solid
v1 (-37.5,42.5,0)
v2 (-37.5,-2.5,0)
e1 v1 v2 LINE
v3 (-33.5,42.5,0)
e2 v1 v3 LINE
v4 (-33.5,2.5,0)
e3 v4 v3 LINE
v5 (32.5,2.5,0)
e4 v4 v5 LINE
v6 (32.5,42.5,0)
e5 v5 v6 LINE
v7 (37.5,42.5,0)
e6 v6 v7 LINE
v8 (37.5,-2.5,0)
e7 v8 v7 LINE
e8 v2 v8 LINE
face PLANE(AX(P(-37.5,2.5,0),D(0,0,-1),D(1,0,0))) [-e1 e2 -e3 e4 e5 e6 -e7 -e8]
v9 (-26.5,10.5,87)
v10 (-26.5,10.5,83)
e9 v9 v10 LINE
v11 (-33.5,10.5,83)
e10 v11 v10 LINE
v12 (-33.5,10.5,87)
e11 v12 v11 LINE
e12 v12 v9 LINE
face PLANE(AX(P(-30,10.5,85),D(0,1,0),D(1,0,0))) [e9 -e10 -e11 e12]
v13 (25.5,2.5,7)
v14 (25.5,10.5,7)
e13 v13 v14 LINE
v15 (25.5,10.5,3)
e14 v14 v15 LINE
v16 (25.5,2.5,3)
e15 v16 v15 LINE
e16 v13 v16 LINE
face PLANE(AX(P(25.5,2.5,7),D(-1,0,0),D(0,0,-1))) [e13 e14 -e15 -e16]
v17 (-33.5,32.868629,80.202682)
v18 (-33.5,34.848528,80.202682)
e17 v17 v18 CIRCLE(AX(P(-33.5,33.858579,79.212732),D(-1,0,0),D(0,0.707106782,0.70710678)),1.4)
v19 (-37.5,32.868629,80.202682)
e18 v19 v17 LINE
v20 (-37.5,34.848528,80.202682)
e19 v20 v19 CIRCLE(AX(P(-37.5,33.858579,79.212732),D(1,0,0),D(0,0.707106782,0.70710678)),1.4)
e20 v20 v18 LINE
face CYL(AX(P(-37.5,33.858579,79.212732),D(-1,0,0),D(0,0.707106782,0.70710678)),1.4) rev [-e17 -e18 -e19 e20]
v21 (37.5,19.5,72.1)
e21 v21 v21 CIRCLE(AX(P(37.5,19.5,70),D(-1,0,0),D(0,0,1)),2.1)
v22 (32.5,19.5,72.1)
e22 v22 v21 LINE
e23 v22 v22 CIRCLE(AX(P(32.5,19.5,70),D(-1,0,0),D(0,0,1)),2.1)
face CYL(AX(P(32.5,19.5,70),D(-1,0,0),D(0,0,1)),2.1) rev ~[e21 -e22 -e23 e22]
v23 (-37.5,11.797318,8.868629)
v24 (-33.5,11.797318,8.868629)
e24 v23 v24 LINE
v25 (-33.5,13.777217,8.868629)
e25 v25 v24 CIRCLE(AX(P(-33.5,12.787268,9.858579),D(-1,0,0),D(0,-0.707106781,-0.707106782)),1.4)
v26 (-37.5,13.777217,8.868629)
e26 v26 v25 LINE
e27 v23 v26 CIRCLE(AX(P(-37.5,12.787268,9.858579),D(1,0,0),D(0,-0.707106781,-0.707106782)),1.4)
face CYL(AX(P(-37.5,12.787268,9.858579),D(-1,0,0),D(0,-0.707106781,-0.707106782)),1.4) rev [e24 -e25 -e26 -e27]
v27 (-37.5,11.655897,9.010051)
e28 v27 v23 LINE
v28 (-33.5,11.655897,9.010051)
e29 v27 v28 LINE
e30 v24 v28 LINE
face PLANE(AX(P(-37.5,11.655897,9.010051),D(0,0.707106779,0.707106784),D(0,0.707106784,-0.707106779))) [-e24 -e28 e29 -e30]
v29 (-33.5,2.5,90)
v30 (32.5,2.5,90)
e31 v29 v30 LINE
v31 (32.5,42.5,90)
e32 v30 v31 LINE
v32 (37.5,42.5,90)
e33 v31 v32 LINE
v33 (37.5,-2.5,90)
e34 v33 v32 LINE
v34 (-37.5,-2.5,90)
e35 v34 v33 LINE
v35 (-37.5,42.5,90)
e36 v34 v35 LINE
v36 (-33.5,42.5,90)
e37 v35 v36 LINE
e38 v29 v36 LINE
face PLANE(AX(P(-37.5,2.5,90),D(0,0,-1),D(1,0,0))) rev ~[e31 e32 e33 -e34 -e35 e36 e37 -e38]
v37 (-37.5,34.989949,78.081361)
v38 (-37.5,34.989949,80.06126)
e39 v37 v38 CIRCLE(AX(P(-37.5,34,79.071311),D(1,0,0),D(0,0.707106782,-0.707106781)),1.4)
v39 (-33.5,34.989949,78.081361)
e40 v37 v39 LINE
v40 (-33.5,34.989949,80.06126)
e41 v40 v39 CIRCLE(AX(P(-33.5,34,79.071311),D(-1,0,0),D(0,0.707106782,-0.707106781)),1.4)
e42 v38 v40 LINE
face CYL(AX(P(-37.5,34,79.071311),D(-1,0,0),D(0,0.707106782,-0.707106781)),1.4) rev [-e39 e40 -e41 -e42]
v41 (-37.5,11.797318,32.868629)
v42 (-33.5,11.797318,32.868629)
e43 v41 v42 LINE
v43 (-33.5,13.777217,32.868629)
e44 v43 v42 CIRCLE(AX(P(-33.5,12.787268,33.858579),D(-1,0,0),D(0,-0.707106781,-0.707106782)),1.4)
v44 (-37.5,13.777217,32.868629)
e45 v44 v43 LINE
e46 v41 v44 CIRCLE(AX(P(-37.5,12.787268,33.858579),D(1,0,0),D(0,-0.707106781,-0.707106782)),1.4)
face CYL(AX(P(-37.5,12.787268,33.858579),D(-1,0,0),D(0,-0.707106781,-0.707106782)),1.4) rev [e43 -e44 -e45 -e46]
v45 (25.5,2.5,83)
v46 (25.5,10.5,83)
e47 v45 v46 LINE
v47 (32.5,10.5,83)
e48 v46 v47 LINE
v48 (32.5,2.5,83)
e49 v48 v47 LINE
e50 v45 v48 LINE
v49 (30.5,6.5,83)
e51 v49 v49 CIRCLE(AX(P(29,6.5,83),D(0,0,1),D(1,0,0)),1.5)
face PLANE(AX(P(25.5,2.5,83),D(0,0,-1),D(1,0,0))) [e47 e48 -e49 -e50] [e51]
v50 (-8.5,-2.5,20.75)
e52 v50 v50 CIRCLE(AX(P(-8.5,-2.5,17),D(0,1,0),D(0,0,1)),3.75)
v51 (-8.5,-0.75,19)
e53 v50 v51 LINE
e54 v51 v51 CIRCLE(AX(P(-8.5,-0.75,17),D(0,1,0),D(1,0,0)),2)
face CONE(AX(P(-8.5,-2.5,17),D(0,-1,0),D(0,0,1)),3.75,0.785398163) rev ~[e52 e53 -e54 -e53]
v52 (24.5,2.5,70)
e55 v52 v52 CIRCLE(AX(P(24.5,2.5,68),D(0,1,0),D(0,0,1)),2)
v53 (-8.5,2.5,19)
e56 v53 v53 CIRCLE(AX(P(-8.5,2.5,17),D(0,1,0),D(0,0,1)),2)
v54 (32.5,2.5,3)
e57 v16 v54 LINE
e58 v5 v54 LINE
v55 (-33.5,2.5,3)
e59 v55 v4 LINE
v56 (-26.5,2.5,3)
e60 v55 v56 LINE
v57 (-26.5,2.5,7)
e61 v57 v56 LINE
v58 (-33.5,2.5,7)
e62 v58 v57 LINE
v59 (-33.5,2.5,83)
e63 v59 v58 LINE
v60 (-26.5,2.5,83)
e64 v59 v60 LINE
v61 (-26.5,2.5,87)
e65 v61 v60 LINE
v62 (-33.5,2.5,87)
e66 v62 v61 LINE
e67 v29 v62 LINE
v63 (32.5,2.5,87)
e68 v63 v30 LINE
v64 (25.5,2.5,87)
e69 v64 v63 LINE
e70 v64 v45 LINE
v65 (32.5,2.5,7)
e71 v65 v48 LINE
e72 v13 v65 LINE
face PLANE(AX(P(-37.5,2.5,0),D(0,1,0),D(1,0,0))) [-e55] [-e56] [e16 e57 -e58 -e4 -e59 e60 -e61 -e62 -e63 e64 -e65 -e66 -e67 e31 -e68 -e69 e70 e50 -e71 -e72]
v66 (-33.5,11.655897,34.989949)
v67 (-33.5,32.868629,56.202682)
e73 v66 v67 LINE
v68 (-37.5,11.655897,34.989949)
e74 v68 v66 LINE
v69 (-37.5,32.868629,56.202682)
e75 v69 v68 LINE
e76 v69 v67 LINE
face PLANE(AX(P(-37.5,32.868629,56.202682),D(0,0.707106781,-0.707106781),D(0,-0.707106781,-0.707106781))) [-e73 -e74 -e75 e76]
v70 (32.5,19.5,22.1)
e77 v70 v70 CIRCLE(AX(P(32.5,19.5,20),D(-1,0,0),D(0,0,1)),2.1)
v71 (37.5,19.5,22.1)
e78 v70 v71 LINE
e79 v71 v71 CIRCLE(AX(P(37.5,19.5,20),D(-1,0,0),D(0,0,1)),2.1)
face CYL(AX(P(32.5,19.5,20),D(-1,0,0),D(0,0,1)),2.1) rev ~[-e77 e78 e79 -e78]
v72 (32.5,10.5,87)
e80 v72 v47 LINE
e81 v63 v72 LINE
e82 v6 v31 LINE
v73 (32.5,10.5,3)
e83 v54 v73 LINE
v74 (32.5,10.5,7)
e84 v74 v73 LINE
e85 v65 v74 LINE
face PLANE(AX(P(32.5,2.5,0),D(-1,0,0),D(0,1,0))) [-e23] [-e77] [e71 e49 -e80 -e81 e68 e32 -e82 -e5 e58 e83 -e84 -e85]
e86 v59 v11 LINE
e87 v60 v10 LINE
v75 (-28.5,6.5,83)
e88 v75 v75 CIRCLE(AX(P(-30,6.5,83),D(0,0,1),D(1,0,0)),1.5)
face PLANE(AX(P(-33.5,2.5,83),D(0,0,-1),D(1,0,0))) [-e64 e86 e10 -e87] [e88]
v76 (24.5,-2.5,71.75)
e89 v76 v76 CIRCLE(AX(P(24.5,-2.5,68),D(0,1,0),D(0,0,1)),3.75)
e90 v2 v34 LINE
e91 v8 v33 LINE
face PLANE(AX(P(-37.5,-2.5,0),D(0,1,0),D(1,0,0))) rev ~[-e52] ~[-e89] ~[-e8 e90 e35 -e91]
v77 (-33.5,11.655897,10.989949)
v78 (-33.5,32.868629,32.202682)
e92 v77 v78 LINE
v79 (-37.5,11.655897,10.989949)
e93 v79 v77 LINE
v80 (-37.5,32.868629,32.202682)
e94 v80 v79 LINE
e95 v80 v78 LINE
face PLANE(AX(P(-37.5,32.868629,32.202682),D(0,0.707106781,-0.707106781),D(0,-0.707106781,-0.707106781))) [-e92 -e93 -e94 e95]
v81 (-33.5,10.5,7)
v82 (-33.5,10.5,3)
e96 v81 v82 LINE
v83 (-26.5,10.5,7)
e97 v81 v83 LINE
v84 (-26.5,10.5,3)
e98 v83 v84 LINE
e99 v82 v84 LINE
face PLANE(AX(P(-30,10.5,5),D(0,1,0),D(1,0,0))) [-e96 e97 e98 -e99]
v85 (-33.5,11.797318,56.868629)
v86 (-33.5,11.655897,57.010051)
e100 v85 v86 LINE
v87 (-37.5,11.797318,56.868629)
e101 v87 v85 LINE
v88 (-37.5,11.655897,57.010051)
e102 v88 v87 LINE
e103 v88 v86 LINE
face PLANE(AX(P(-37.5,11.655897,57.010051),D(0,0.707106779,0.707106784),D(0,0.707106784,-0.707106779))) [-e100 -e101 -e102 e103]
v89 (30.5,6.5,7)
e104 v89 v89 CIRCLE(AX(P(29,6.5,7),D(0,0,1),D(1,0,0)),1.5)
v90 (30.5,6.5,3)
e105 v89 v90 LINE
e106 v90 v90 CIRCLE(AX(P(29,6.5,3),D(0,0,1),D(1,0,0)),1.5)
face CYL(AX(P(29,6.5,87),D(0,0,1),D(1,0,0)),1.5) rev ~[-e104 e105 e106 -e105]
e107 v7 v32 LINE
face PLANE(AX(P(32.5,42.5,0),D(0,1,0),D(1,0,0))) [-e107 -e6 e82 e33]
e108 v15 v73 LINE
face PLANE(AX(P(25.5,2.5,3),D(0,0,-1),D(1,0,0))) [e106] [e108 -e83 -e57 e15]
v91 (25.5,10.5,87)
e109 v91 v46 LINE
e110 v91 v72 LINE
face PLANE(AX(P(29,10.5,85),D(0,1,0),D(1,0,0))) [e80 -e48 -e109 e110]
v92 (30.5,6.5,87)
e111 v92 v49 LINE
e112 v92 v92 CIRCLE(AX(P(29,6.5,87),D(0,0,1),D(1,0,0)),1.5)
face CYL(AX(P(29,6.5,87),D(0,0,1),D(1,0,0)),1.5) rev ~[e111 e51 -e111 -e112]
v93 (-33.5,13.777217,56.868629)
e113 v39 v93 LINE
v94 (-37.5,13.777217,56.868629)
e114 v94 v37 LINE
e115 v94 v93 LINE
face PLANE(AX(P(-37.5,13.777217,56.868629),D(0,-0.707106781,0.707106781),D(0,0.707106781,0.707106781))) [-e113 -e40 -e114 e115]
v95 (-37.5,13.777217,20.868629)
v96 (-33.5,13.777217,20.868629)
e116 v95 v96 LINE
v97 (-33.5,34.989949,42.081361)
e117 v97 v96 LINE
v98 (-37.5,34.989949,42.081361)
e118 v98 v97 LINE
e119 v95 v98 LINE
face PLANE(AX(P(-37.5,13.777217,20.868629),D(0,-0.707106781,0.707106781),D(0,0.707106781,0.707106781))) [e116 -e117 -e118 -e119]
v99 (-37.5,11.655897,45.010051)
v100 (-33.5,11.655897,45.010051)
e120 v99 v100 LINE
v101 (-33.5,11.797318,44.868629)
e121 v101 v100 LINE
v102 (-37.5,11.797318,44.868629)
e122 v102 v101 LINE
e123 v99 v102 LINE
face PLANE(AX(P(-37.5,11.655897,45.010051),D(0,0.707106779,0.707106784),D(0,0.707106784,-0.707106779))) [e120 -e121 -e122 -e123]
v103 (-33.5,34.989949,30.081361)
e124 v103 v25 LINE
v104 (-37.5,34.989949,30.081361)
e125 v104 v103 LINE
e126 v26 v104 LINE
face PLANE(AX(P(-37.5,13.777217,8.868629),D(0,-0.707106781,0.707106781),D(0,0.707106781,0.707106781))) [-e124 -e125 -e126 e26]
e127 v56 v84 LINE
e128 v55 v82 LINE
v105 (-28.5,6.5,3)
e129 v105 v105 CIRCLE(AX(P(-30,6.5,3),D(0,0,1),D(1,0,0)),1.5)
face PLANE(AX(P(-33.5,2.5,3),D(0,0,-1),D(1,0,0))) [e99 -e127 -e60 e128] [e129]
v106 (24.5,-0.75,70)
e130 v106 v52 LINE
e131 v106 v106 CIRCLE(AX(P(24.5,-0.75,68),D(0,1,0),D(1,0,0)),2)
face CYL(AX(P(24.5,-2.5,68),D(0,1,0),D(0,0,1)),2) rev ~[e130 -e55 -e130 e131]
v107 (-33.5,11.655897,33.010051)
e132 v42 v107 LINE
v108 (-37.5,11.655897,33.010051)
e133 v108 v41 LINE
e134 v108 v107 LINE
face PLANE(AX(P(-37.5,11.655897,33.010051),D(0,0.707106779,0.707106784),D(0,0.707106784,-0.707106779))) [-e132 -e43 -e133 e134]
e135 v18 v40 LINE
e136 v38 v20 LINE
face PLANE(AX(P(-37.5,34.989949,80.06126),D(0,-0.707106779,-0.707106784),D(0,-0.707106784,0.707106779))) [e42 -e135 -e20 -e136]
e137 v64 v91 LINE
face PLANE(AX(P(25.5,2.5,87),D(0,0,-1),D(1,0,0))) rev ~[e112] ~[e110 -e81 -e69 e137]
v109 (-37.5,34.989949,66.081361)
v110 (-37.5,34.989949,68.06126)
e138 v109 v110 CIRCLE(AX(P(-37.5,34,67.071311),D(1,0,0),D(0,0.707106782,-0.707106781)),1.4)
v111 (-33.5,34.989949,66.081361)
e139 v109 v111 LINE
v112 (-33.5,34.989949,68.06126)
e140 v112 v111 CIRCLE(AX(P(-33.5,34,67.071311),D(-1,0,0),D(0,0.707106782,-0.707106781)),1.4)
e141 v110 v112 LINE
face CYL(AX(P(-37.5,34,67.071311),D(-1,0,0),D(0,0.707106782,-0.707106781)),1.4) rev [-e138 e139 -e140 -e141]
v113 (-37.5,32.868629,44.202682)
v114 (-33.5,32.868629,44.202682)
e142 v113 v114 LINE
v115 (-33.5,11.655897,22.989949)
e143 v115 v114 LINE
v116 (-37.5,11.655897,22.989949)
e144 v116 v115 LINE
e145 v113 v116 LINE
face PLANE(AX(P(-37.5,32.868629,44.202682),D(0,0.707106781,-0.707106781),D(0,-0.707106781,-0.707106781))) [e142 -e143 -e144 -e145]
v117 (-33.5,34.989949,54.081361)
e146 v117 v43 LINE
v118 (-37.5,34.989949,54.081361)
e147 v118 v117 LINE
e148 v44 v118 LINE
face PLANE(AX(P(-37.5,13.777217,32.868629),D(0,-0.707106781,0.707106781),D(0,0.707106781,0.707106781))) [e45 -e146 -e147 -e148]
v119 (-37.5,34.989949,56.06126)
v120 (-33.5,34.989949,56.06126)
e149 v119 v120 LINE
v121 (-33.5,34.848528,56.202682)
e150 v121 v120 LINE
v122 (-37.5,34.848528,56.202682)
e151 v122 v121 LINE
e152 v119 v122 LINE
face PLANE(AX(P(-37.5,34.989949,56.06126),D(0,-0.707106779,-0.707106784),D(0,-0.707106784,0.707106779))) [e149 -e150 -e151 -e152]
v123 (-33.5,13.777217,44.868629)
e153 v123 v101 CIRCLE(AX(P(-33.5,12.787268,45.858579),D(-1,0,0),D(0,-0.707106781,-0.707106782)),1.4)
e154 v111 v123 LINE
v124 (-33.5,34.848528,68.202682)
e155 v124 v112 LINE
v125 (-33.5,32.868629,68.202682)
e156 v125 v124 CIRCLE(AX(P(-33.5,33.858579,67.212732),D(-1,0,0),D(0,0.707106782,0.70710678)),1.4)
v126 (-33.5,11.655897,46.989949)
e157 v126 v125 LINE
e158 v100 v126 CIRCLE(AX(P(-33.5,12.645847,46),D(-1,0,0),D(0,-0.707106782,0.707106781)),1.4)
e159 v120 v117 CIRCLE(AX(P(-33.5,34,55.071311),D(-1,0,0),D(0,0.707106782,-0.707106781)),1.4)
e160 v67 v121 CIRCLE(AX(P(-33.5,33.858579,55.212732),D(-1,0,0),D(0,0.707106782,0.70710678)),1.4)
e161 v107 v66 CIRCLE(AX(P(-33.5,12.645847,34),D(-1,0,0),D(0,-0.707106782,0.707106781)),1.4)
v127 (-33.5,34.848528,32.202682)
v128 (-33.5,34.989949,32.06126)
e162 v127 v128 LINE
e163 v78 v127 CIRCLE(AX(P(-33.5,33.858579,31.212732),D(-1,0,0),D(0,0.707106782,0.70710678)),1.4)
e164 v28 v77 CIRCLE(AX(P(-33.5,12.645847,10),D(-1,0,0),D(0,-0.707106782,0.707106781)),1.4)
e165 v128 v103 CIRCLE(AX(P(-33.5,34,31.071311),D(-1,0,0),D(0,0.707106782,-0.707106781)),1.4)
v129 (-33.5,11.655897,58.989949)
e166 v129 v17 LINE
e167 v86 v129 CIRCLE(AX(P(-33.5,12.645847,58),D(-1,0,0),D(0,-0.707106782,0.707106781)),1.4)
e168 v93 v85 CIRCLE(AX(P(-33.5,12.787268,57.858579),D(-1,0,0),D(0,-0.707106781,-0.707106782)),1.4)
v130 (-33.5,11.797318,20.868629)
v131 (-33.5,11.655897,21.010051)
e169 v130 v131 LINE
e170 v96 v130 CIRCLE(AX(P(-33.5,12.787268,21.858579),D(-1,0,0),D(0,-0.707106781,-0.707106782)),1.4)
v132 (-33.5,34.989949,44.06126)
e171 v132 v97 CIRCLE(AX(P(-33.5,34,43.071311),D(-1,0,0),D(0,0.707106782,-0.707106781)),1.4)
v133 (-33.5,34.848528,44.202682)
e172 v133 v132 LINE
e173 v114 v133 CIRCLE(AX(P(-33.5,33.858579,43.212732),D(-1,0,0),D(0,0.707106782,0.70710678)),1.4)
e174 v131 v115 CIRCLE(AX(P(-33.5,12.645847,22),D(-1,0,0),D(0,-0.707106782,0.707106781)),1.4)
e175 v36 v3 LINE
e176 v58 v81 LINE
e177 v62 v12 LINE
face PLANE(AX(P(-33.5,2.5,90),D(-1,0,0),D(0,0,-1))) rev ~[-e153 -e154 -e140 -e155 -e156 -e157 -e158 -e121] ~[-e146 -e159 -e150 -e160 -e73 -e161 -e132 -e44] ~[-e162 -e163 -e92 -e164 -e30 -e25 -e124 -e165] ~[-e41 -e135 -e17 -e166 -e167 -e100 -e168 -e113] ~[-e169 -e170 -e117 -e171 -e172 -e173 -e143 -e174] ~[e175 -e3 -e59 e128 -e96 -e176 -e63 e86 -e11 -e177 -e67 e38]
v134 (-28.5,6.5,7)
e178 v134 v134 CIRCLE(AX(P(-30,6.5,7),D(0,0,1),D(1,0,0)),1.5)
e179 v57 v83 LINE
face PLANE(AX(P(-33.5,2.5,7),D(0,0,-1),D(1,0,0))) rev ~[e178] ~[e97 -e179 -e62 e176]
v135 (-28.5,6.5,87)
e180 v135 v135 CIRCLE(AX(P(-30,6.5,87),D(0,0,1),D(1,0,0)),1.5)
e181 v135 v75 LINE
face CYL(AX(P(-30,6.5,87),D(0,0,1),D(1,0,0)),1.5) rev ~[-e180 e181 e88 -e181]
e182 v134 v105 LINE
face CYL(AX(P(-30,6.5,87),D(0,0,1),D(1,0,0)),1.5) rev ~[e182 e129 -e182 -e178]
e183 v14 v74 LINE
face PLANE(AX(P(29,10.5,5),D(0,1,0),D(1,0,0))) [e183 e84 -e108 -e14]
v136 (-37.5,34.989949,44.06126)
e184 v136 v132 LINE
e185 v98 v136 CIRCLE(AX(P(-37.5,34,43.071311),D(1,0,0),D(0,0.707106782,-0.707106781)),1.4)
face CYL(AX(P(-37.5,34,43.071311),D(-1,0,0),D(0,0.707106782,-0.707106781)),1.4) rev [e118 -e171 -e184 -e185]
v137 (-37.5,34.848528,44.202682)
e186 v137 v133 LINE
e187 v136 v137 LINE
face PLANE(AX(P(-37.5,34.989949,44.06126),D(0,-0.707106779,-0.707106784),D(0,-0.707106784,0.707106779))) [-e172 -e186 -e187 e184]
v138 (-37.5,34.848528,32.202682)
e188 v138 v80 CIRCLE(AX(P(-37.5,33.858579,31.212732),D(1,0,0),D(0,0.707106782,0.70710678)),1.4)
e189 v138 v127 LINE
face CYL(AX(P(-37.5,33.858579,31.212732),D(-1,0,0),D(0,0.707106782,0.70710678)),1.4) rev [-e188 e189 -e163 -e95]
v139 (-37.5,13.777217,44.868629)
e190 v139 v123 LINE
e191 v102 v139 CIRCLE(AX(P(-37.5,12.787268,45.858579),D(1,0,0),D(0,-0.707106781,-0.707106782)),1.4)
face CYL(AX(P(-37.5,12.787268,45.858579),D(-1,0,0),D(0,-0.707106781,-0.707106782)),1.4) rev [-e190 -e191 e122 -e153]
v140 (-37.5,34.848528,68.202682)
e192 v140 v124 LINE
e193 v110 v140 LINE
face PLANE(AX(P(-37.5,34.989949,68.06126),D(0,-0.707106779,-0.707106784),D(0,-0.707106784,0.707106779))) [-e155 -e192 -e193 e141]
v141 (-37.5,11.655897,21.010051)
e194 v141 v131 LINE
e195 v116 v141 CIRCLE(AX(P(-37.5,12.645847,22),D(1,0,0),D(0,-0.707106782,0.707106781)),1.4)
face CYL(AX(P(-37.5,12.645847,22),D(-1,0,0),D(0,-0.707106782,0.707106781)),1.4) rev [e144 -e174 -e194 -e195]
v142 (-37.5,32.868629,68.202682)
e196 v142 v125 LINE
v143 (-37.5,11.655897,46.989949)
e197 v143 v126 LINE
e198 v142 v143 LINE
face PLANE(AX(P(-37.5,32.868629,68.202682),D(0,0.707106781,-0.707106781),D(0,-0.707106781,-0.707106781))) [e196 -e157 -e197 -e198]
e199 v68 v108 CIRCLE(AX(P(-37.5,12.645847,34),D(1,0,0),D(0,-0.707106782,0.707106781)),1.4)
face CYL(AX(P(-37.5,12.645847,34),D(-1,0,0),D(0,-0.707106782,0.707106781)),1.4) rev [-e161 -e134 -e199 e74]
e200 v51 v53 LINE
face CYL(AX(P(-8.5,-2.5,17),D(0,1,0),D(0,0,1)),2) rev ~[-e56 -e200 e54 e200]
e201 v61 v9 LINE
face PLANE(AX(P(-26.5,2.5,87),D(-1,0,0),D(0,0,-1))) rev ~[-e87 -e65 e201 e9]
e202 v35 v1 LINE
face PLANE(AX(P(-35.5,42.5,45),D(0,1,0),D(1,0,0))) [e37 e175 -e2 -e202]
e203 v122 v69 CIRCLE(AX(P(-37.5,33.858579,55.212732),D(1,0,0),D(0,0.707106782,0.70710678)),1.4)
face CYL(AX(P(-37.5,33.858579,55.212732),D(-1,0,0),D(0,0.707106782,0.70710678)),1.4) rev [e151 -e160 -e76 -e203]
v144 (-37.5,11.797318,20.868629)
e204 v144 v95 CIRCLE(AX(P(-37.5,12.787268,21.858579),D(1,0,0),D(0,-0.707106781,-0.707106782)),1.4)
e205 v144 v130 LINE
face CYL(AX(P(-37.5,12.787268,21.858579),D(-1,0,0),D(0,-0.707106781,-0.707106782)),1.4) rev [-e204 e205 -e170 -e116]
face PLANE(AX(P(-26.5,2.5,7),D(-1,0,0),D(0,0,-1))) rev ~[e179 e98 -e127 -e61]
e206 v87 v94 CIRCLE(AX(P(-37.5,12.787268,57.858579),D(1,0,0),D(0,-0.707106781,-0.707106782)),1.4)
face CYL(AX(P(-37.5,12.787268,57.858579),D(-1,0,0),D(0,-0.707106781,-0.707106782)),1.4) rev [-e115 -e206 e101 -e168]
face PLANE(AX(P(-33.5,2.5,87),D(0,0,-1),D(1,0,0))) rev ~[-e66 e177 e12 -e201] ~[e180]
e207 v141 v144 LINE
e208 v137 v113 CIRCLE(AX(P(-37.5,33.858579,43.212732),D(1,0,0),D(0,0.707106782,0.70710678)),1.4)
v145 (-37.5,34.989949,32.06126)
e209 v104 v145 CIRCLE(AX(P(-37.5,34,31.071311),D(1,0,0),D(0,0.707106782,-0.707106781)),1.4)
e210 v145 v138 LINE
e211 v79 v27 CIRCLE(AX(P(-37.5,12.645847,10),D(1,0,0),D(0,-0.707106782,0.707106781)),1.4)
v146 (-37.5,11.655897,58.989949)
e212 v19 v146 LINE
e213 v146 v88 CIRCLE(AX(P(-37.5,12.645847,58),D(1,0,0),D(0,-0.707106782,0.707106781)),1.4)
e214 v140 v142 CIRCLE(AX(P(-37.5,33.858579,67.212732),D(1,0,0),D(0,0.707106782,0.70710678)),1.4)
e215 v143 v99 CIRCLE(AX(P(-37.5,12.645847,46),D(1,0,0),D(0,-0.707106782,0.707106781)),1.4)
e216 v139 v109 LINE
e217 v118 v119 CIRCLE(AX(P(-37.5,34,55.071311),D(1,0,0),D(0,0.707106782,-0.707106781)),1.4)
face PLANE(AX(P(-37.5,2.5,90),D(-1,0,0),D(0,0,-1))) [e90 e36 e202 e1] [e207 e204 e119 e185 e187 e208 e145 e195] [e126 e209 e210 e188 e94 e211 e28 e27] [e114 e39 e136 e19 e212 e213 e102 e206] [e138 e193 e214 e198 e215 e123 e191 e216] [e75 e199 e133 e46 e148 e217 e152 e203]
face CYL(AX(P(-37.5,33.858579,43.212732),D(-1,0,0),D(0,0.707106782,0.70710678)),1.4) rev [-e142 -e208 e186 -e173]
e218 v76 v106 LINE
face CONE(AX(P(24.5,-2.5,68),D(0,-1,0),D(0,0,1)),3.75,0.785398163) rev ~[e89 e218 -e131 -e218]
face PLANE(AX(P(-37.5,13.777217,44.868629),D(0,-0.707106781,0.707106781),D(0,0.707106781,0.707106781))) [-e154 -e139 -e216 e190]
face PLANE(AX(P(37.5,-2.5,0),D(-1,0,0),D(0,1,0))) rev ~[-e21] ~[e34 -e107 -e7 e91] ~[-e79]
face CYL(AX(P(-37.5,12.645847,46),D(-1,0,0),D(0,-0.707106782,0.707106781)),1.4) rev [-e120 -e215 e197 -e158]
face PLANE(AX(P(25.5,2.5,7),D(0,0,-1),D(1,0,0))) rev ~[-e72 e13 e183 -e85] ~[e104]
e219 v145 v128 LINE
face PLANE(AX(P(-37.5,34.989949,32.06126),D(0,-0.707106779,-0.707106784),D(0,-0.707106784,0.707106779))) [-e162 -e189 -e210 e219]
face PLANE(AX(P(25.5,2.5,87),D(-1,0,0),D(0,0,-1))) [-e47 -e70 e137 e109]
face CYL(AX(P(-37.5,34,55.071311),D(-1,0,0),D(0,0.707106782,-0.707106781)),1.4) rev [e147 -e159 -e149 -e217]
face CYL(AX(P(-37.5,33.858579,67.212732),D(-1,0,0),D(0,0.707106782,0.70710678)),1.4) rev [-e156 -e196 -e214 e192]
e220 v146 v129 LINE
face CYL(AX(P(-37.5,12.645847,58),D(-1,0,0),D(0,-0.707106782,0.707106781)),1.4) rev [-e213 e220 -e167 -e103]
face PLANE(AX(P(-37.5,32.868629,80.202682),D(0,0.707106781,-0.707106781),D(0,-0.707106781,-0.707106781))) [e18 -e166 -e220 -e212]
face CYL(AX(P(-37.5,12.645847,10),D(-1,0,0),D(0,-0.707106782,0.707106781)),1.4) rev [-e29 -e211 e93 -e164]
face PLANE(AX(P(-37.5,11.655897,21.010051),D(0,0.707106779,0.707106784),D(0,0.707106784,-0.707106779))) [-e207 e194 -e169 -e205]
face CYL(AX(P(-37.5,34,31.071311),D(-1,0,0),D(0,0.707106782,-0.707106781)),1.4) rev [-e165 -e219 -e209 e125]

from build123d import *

# Parameters (mm, degrees)
SKETCH1_W                                           = 75
SKETCH1_H                                           = 5
SKETCH1_W_2                                         = 5
SKETCH1_H_2                                         = 40
BOSS_EXTRUDE1_DEPTH                                 = 90
SKETCH2_R                                           = 2.1
CUT_EXTRUDE1_DEPTH                                  = 122.680935236
SKETCH4_W                                           = 4
SKETCH4_H                                           = 90
BOSS_EXTRUDE2_DEPTH                                 = 40
SKETCH6_W                                           = 7
SKETCH6_H                                           = 4
BOSS_EXTRUDE4_DEPTH                                 = 8
SKETCH7_R                                           = 1.6
CUT_EXTRUDE3_DEPTH                                  = 106.386194542
CUT_EXTRUDE4_REACH                                  = 126.624
LPATTERN1_COUNT                                     = 5
LPATTERN1_PITCH                                     = 12
SKETCH9_R                                           = 1.5
CUT_EXTRUDE5_DEPTH                                  = 104.834002138
CSK_FOR_M4_COUNTERSUNK_FLAT_HEAD_SCREW1_D           = 4
CSK_FOR_M4_COUNTERSUNK_FLAT_HEAD_SCREW1_CSINK_D     = 7.5
CSK_FOR_M4_COUNTERSUNK_FLAT_HEAD_SCREW1_CSINK_ANGLE = 90


with BuildPart() as part:
    # Sketch1 → Boss-Extrude1 (new body)
    with BuildSketch(Plane.XY):
        Rectangle(SKETCH1_W, SKETCH1_H)
        with Locations((35, 22.5)):
            Rectangle(SKETCH1_W_2, SKETCH1_H_2)
    extrude(amount=BOSS_EXTRUDE1_DEPTH)

    # Sketch2 → Cut-Extrude1 (cut, through all)
    with BuildSketch(Plane.ZY.offset(-32.5)):
        with Locations((20, 19.5)):
            Circle(SKETCH2_R)
        with Locations((70, 19.5)):
            Circle(SKETCH2_R)
    extrude(amount=-CUT_EXTRUDE1_DEPTH, mode=Mode.SUBTRACT)

    # Sketch4 → Boss-Extrude2 (add)
    with BuildSketch(Plane(origin=(0, 2.5, 0), x_dir=(1, 0, 0), z_dir=(0, 1, 0))):
        with Locations((-35.5, -45)):
            Rectangle(SKETCH4_W, SKETCH4_H)
    extrude(amount=BOSS_EXTRUDE2_DEPTH)

    # Sketch6 → Boss-Extrude4 (add)
    with BuildSketch(Plane(origin=(0, 2.5, 0), x_dir=(1, 0, 0), z_dir=(0, 1, 0))):
        with Locations((-30, -5)):
            Rectangle(SKETCH6_W, SKETCH6_H)
        with Locations((29, -5)):
            Rectangle(SKETCH6_W, SKETCH6_H)
        with Locations((29, -85)):
            Rectangle(SKETCH6_W, SKETCH6_H)
        with Locations((-30, -85)):
            Rectangle(SKETCH6_W, SKETCH6_H)
    extrude(amount=BOSS_EXTRUDE4_DEPTH)

    # Sketch7 → Cut-Extrude3 (cut, through all)
    with BuildSketch(Plane(origin=(0, 2.5, 0), x_dir=(1, 0, 0), z_dir=(0, 1, 0))):
        with Locations(Location((24.5, -68, 0), (0, 0, 180))):
            Circle(SKETCH7_R)
        with Locations(Location((-8.5, -17, 0), (0, 0, 180))):
            Circle(SKETCH7_R)
    extrude(amount=-CUT_EXTRUDE3_DEPTH, mode=Mode.SUBTRACT)

    # Sketch8 → Cut-Extrude4 (cut, up to next)
    with BuildSketch(Plane.ZY.offset(37.5), mode=Mode.PRIVATE) as cut_extrude4_sk1:
        with BuildLine():
            Line((32.061260163, 34.989949494), (32.202681519, 34.848528137))
            ThreePointArc((32.202681519, 34.848528137), (32.612732026, 33.858578644), (32.202681519, 32.86862915))
            Line((32.202681519, 32.86862915), (10.989949494, 11.655897124))
            ThreePointArc((10.989949494, 11.655897124), (10, 11.245846618), (9.010050506, 11.655897124))
            Line((9.010050506, 11.655897124), (8.86862915, 11.797318481))
            ThreePointArc((8.86862915, 11.797318481), (8.458578644, 12.787267974), (8.86862915, 13.777217468))
            Line((8.86862915, 13.777217468), (30.081361176, 34.989949494))
            ThreePointArc((30.081361176, 34.989949494), (31.07131067, 35.4), (32.061260163, 34.989949494))
        make_face()
    cut_extrude4_tool1 = extrude(cut_extrude4_sk1.sketch, amount=-CUT_EXTRUDE4_REACH, mode=Mode.PRIVATE) & part.part
    cut_extrude4 = cut_extrude4_tool1.solids().sort_by_distance((-37.5, 23.322923, 20.535655))[0]
    add(cut_extrude4, mode=Mode.SUBTRACT)

    # LPattern1: Cut-Extrude4 ×5
    with Locations(*[(0, 0, i * LPATTERN1_PITCH) for i in range(1, LPATTERN1_COUNT)]):
        add(cut_extrude4, mode=Mode.SUBTRACT)

    # Sketch9 → Cut-Extrude5 (cut, through all)
    with BuildSketch(Plane.XY.offset(87)):
        with Locations((-30, 6.5)):
            Circle(SKETCH9_R)
        with Locations((29, 6.5)):
            Circle(SKETCH9_R)
    extrude(amount=-CUT_EXTRUDE5_DEPTH, mode=Mode.SUBTRACT)

    # CSK for M4 Countersunk Flat Head Screw1 (through all)
    with Locations(Plane(origin=(24.5, -2.5, 68), x_dir=(0, 0, -1), z_dir=(0, -1, 0))):
        with Locations((0, 0), (51, -33)):
            CounterSinkHole(CSK_FOR_M4_COUNTERSUNK_FLAT_HEAD_SCREW1_D / 2, CSK_FOR_M4_COUNTERSUNK_FLAT_HEAD_SCREW1_CSINK_D / 2, counter_sink_angle=CSK_FOR_M4_COUNTERSUNK_FLAT_HEAD_SCREW1_CSINK_ANGLE)


solid = part.part
